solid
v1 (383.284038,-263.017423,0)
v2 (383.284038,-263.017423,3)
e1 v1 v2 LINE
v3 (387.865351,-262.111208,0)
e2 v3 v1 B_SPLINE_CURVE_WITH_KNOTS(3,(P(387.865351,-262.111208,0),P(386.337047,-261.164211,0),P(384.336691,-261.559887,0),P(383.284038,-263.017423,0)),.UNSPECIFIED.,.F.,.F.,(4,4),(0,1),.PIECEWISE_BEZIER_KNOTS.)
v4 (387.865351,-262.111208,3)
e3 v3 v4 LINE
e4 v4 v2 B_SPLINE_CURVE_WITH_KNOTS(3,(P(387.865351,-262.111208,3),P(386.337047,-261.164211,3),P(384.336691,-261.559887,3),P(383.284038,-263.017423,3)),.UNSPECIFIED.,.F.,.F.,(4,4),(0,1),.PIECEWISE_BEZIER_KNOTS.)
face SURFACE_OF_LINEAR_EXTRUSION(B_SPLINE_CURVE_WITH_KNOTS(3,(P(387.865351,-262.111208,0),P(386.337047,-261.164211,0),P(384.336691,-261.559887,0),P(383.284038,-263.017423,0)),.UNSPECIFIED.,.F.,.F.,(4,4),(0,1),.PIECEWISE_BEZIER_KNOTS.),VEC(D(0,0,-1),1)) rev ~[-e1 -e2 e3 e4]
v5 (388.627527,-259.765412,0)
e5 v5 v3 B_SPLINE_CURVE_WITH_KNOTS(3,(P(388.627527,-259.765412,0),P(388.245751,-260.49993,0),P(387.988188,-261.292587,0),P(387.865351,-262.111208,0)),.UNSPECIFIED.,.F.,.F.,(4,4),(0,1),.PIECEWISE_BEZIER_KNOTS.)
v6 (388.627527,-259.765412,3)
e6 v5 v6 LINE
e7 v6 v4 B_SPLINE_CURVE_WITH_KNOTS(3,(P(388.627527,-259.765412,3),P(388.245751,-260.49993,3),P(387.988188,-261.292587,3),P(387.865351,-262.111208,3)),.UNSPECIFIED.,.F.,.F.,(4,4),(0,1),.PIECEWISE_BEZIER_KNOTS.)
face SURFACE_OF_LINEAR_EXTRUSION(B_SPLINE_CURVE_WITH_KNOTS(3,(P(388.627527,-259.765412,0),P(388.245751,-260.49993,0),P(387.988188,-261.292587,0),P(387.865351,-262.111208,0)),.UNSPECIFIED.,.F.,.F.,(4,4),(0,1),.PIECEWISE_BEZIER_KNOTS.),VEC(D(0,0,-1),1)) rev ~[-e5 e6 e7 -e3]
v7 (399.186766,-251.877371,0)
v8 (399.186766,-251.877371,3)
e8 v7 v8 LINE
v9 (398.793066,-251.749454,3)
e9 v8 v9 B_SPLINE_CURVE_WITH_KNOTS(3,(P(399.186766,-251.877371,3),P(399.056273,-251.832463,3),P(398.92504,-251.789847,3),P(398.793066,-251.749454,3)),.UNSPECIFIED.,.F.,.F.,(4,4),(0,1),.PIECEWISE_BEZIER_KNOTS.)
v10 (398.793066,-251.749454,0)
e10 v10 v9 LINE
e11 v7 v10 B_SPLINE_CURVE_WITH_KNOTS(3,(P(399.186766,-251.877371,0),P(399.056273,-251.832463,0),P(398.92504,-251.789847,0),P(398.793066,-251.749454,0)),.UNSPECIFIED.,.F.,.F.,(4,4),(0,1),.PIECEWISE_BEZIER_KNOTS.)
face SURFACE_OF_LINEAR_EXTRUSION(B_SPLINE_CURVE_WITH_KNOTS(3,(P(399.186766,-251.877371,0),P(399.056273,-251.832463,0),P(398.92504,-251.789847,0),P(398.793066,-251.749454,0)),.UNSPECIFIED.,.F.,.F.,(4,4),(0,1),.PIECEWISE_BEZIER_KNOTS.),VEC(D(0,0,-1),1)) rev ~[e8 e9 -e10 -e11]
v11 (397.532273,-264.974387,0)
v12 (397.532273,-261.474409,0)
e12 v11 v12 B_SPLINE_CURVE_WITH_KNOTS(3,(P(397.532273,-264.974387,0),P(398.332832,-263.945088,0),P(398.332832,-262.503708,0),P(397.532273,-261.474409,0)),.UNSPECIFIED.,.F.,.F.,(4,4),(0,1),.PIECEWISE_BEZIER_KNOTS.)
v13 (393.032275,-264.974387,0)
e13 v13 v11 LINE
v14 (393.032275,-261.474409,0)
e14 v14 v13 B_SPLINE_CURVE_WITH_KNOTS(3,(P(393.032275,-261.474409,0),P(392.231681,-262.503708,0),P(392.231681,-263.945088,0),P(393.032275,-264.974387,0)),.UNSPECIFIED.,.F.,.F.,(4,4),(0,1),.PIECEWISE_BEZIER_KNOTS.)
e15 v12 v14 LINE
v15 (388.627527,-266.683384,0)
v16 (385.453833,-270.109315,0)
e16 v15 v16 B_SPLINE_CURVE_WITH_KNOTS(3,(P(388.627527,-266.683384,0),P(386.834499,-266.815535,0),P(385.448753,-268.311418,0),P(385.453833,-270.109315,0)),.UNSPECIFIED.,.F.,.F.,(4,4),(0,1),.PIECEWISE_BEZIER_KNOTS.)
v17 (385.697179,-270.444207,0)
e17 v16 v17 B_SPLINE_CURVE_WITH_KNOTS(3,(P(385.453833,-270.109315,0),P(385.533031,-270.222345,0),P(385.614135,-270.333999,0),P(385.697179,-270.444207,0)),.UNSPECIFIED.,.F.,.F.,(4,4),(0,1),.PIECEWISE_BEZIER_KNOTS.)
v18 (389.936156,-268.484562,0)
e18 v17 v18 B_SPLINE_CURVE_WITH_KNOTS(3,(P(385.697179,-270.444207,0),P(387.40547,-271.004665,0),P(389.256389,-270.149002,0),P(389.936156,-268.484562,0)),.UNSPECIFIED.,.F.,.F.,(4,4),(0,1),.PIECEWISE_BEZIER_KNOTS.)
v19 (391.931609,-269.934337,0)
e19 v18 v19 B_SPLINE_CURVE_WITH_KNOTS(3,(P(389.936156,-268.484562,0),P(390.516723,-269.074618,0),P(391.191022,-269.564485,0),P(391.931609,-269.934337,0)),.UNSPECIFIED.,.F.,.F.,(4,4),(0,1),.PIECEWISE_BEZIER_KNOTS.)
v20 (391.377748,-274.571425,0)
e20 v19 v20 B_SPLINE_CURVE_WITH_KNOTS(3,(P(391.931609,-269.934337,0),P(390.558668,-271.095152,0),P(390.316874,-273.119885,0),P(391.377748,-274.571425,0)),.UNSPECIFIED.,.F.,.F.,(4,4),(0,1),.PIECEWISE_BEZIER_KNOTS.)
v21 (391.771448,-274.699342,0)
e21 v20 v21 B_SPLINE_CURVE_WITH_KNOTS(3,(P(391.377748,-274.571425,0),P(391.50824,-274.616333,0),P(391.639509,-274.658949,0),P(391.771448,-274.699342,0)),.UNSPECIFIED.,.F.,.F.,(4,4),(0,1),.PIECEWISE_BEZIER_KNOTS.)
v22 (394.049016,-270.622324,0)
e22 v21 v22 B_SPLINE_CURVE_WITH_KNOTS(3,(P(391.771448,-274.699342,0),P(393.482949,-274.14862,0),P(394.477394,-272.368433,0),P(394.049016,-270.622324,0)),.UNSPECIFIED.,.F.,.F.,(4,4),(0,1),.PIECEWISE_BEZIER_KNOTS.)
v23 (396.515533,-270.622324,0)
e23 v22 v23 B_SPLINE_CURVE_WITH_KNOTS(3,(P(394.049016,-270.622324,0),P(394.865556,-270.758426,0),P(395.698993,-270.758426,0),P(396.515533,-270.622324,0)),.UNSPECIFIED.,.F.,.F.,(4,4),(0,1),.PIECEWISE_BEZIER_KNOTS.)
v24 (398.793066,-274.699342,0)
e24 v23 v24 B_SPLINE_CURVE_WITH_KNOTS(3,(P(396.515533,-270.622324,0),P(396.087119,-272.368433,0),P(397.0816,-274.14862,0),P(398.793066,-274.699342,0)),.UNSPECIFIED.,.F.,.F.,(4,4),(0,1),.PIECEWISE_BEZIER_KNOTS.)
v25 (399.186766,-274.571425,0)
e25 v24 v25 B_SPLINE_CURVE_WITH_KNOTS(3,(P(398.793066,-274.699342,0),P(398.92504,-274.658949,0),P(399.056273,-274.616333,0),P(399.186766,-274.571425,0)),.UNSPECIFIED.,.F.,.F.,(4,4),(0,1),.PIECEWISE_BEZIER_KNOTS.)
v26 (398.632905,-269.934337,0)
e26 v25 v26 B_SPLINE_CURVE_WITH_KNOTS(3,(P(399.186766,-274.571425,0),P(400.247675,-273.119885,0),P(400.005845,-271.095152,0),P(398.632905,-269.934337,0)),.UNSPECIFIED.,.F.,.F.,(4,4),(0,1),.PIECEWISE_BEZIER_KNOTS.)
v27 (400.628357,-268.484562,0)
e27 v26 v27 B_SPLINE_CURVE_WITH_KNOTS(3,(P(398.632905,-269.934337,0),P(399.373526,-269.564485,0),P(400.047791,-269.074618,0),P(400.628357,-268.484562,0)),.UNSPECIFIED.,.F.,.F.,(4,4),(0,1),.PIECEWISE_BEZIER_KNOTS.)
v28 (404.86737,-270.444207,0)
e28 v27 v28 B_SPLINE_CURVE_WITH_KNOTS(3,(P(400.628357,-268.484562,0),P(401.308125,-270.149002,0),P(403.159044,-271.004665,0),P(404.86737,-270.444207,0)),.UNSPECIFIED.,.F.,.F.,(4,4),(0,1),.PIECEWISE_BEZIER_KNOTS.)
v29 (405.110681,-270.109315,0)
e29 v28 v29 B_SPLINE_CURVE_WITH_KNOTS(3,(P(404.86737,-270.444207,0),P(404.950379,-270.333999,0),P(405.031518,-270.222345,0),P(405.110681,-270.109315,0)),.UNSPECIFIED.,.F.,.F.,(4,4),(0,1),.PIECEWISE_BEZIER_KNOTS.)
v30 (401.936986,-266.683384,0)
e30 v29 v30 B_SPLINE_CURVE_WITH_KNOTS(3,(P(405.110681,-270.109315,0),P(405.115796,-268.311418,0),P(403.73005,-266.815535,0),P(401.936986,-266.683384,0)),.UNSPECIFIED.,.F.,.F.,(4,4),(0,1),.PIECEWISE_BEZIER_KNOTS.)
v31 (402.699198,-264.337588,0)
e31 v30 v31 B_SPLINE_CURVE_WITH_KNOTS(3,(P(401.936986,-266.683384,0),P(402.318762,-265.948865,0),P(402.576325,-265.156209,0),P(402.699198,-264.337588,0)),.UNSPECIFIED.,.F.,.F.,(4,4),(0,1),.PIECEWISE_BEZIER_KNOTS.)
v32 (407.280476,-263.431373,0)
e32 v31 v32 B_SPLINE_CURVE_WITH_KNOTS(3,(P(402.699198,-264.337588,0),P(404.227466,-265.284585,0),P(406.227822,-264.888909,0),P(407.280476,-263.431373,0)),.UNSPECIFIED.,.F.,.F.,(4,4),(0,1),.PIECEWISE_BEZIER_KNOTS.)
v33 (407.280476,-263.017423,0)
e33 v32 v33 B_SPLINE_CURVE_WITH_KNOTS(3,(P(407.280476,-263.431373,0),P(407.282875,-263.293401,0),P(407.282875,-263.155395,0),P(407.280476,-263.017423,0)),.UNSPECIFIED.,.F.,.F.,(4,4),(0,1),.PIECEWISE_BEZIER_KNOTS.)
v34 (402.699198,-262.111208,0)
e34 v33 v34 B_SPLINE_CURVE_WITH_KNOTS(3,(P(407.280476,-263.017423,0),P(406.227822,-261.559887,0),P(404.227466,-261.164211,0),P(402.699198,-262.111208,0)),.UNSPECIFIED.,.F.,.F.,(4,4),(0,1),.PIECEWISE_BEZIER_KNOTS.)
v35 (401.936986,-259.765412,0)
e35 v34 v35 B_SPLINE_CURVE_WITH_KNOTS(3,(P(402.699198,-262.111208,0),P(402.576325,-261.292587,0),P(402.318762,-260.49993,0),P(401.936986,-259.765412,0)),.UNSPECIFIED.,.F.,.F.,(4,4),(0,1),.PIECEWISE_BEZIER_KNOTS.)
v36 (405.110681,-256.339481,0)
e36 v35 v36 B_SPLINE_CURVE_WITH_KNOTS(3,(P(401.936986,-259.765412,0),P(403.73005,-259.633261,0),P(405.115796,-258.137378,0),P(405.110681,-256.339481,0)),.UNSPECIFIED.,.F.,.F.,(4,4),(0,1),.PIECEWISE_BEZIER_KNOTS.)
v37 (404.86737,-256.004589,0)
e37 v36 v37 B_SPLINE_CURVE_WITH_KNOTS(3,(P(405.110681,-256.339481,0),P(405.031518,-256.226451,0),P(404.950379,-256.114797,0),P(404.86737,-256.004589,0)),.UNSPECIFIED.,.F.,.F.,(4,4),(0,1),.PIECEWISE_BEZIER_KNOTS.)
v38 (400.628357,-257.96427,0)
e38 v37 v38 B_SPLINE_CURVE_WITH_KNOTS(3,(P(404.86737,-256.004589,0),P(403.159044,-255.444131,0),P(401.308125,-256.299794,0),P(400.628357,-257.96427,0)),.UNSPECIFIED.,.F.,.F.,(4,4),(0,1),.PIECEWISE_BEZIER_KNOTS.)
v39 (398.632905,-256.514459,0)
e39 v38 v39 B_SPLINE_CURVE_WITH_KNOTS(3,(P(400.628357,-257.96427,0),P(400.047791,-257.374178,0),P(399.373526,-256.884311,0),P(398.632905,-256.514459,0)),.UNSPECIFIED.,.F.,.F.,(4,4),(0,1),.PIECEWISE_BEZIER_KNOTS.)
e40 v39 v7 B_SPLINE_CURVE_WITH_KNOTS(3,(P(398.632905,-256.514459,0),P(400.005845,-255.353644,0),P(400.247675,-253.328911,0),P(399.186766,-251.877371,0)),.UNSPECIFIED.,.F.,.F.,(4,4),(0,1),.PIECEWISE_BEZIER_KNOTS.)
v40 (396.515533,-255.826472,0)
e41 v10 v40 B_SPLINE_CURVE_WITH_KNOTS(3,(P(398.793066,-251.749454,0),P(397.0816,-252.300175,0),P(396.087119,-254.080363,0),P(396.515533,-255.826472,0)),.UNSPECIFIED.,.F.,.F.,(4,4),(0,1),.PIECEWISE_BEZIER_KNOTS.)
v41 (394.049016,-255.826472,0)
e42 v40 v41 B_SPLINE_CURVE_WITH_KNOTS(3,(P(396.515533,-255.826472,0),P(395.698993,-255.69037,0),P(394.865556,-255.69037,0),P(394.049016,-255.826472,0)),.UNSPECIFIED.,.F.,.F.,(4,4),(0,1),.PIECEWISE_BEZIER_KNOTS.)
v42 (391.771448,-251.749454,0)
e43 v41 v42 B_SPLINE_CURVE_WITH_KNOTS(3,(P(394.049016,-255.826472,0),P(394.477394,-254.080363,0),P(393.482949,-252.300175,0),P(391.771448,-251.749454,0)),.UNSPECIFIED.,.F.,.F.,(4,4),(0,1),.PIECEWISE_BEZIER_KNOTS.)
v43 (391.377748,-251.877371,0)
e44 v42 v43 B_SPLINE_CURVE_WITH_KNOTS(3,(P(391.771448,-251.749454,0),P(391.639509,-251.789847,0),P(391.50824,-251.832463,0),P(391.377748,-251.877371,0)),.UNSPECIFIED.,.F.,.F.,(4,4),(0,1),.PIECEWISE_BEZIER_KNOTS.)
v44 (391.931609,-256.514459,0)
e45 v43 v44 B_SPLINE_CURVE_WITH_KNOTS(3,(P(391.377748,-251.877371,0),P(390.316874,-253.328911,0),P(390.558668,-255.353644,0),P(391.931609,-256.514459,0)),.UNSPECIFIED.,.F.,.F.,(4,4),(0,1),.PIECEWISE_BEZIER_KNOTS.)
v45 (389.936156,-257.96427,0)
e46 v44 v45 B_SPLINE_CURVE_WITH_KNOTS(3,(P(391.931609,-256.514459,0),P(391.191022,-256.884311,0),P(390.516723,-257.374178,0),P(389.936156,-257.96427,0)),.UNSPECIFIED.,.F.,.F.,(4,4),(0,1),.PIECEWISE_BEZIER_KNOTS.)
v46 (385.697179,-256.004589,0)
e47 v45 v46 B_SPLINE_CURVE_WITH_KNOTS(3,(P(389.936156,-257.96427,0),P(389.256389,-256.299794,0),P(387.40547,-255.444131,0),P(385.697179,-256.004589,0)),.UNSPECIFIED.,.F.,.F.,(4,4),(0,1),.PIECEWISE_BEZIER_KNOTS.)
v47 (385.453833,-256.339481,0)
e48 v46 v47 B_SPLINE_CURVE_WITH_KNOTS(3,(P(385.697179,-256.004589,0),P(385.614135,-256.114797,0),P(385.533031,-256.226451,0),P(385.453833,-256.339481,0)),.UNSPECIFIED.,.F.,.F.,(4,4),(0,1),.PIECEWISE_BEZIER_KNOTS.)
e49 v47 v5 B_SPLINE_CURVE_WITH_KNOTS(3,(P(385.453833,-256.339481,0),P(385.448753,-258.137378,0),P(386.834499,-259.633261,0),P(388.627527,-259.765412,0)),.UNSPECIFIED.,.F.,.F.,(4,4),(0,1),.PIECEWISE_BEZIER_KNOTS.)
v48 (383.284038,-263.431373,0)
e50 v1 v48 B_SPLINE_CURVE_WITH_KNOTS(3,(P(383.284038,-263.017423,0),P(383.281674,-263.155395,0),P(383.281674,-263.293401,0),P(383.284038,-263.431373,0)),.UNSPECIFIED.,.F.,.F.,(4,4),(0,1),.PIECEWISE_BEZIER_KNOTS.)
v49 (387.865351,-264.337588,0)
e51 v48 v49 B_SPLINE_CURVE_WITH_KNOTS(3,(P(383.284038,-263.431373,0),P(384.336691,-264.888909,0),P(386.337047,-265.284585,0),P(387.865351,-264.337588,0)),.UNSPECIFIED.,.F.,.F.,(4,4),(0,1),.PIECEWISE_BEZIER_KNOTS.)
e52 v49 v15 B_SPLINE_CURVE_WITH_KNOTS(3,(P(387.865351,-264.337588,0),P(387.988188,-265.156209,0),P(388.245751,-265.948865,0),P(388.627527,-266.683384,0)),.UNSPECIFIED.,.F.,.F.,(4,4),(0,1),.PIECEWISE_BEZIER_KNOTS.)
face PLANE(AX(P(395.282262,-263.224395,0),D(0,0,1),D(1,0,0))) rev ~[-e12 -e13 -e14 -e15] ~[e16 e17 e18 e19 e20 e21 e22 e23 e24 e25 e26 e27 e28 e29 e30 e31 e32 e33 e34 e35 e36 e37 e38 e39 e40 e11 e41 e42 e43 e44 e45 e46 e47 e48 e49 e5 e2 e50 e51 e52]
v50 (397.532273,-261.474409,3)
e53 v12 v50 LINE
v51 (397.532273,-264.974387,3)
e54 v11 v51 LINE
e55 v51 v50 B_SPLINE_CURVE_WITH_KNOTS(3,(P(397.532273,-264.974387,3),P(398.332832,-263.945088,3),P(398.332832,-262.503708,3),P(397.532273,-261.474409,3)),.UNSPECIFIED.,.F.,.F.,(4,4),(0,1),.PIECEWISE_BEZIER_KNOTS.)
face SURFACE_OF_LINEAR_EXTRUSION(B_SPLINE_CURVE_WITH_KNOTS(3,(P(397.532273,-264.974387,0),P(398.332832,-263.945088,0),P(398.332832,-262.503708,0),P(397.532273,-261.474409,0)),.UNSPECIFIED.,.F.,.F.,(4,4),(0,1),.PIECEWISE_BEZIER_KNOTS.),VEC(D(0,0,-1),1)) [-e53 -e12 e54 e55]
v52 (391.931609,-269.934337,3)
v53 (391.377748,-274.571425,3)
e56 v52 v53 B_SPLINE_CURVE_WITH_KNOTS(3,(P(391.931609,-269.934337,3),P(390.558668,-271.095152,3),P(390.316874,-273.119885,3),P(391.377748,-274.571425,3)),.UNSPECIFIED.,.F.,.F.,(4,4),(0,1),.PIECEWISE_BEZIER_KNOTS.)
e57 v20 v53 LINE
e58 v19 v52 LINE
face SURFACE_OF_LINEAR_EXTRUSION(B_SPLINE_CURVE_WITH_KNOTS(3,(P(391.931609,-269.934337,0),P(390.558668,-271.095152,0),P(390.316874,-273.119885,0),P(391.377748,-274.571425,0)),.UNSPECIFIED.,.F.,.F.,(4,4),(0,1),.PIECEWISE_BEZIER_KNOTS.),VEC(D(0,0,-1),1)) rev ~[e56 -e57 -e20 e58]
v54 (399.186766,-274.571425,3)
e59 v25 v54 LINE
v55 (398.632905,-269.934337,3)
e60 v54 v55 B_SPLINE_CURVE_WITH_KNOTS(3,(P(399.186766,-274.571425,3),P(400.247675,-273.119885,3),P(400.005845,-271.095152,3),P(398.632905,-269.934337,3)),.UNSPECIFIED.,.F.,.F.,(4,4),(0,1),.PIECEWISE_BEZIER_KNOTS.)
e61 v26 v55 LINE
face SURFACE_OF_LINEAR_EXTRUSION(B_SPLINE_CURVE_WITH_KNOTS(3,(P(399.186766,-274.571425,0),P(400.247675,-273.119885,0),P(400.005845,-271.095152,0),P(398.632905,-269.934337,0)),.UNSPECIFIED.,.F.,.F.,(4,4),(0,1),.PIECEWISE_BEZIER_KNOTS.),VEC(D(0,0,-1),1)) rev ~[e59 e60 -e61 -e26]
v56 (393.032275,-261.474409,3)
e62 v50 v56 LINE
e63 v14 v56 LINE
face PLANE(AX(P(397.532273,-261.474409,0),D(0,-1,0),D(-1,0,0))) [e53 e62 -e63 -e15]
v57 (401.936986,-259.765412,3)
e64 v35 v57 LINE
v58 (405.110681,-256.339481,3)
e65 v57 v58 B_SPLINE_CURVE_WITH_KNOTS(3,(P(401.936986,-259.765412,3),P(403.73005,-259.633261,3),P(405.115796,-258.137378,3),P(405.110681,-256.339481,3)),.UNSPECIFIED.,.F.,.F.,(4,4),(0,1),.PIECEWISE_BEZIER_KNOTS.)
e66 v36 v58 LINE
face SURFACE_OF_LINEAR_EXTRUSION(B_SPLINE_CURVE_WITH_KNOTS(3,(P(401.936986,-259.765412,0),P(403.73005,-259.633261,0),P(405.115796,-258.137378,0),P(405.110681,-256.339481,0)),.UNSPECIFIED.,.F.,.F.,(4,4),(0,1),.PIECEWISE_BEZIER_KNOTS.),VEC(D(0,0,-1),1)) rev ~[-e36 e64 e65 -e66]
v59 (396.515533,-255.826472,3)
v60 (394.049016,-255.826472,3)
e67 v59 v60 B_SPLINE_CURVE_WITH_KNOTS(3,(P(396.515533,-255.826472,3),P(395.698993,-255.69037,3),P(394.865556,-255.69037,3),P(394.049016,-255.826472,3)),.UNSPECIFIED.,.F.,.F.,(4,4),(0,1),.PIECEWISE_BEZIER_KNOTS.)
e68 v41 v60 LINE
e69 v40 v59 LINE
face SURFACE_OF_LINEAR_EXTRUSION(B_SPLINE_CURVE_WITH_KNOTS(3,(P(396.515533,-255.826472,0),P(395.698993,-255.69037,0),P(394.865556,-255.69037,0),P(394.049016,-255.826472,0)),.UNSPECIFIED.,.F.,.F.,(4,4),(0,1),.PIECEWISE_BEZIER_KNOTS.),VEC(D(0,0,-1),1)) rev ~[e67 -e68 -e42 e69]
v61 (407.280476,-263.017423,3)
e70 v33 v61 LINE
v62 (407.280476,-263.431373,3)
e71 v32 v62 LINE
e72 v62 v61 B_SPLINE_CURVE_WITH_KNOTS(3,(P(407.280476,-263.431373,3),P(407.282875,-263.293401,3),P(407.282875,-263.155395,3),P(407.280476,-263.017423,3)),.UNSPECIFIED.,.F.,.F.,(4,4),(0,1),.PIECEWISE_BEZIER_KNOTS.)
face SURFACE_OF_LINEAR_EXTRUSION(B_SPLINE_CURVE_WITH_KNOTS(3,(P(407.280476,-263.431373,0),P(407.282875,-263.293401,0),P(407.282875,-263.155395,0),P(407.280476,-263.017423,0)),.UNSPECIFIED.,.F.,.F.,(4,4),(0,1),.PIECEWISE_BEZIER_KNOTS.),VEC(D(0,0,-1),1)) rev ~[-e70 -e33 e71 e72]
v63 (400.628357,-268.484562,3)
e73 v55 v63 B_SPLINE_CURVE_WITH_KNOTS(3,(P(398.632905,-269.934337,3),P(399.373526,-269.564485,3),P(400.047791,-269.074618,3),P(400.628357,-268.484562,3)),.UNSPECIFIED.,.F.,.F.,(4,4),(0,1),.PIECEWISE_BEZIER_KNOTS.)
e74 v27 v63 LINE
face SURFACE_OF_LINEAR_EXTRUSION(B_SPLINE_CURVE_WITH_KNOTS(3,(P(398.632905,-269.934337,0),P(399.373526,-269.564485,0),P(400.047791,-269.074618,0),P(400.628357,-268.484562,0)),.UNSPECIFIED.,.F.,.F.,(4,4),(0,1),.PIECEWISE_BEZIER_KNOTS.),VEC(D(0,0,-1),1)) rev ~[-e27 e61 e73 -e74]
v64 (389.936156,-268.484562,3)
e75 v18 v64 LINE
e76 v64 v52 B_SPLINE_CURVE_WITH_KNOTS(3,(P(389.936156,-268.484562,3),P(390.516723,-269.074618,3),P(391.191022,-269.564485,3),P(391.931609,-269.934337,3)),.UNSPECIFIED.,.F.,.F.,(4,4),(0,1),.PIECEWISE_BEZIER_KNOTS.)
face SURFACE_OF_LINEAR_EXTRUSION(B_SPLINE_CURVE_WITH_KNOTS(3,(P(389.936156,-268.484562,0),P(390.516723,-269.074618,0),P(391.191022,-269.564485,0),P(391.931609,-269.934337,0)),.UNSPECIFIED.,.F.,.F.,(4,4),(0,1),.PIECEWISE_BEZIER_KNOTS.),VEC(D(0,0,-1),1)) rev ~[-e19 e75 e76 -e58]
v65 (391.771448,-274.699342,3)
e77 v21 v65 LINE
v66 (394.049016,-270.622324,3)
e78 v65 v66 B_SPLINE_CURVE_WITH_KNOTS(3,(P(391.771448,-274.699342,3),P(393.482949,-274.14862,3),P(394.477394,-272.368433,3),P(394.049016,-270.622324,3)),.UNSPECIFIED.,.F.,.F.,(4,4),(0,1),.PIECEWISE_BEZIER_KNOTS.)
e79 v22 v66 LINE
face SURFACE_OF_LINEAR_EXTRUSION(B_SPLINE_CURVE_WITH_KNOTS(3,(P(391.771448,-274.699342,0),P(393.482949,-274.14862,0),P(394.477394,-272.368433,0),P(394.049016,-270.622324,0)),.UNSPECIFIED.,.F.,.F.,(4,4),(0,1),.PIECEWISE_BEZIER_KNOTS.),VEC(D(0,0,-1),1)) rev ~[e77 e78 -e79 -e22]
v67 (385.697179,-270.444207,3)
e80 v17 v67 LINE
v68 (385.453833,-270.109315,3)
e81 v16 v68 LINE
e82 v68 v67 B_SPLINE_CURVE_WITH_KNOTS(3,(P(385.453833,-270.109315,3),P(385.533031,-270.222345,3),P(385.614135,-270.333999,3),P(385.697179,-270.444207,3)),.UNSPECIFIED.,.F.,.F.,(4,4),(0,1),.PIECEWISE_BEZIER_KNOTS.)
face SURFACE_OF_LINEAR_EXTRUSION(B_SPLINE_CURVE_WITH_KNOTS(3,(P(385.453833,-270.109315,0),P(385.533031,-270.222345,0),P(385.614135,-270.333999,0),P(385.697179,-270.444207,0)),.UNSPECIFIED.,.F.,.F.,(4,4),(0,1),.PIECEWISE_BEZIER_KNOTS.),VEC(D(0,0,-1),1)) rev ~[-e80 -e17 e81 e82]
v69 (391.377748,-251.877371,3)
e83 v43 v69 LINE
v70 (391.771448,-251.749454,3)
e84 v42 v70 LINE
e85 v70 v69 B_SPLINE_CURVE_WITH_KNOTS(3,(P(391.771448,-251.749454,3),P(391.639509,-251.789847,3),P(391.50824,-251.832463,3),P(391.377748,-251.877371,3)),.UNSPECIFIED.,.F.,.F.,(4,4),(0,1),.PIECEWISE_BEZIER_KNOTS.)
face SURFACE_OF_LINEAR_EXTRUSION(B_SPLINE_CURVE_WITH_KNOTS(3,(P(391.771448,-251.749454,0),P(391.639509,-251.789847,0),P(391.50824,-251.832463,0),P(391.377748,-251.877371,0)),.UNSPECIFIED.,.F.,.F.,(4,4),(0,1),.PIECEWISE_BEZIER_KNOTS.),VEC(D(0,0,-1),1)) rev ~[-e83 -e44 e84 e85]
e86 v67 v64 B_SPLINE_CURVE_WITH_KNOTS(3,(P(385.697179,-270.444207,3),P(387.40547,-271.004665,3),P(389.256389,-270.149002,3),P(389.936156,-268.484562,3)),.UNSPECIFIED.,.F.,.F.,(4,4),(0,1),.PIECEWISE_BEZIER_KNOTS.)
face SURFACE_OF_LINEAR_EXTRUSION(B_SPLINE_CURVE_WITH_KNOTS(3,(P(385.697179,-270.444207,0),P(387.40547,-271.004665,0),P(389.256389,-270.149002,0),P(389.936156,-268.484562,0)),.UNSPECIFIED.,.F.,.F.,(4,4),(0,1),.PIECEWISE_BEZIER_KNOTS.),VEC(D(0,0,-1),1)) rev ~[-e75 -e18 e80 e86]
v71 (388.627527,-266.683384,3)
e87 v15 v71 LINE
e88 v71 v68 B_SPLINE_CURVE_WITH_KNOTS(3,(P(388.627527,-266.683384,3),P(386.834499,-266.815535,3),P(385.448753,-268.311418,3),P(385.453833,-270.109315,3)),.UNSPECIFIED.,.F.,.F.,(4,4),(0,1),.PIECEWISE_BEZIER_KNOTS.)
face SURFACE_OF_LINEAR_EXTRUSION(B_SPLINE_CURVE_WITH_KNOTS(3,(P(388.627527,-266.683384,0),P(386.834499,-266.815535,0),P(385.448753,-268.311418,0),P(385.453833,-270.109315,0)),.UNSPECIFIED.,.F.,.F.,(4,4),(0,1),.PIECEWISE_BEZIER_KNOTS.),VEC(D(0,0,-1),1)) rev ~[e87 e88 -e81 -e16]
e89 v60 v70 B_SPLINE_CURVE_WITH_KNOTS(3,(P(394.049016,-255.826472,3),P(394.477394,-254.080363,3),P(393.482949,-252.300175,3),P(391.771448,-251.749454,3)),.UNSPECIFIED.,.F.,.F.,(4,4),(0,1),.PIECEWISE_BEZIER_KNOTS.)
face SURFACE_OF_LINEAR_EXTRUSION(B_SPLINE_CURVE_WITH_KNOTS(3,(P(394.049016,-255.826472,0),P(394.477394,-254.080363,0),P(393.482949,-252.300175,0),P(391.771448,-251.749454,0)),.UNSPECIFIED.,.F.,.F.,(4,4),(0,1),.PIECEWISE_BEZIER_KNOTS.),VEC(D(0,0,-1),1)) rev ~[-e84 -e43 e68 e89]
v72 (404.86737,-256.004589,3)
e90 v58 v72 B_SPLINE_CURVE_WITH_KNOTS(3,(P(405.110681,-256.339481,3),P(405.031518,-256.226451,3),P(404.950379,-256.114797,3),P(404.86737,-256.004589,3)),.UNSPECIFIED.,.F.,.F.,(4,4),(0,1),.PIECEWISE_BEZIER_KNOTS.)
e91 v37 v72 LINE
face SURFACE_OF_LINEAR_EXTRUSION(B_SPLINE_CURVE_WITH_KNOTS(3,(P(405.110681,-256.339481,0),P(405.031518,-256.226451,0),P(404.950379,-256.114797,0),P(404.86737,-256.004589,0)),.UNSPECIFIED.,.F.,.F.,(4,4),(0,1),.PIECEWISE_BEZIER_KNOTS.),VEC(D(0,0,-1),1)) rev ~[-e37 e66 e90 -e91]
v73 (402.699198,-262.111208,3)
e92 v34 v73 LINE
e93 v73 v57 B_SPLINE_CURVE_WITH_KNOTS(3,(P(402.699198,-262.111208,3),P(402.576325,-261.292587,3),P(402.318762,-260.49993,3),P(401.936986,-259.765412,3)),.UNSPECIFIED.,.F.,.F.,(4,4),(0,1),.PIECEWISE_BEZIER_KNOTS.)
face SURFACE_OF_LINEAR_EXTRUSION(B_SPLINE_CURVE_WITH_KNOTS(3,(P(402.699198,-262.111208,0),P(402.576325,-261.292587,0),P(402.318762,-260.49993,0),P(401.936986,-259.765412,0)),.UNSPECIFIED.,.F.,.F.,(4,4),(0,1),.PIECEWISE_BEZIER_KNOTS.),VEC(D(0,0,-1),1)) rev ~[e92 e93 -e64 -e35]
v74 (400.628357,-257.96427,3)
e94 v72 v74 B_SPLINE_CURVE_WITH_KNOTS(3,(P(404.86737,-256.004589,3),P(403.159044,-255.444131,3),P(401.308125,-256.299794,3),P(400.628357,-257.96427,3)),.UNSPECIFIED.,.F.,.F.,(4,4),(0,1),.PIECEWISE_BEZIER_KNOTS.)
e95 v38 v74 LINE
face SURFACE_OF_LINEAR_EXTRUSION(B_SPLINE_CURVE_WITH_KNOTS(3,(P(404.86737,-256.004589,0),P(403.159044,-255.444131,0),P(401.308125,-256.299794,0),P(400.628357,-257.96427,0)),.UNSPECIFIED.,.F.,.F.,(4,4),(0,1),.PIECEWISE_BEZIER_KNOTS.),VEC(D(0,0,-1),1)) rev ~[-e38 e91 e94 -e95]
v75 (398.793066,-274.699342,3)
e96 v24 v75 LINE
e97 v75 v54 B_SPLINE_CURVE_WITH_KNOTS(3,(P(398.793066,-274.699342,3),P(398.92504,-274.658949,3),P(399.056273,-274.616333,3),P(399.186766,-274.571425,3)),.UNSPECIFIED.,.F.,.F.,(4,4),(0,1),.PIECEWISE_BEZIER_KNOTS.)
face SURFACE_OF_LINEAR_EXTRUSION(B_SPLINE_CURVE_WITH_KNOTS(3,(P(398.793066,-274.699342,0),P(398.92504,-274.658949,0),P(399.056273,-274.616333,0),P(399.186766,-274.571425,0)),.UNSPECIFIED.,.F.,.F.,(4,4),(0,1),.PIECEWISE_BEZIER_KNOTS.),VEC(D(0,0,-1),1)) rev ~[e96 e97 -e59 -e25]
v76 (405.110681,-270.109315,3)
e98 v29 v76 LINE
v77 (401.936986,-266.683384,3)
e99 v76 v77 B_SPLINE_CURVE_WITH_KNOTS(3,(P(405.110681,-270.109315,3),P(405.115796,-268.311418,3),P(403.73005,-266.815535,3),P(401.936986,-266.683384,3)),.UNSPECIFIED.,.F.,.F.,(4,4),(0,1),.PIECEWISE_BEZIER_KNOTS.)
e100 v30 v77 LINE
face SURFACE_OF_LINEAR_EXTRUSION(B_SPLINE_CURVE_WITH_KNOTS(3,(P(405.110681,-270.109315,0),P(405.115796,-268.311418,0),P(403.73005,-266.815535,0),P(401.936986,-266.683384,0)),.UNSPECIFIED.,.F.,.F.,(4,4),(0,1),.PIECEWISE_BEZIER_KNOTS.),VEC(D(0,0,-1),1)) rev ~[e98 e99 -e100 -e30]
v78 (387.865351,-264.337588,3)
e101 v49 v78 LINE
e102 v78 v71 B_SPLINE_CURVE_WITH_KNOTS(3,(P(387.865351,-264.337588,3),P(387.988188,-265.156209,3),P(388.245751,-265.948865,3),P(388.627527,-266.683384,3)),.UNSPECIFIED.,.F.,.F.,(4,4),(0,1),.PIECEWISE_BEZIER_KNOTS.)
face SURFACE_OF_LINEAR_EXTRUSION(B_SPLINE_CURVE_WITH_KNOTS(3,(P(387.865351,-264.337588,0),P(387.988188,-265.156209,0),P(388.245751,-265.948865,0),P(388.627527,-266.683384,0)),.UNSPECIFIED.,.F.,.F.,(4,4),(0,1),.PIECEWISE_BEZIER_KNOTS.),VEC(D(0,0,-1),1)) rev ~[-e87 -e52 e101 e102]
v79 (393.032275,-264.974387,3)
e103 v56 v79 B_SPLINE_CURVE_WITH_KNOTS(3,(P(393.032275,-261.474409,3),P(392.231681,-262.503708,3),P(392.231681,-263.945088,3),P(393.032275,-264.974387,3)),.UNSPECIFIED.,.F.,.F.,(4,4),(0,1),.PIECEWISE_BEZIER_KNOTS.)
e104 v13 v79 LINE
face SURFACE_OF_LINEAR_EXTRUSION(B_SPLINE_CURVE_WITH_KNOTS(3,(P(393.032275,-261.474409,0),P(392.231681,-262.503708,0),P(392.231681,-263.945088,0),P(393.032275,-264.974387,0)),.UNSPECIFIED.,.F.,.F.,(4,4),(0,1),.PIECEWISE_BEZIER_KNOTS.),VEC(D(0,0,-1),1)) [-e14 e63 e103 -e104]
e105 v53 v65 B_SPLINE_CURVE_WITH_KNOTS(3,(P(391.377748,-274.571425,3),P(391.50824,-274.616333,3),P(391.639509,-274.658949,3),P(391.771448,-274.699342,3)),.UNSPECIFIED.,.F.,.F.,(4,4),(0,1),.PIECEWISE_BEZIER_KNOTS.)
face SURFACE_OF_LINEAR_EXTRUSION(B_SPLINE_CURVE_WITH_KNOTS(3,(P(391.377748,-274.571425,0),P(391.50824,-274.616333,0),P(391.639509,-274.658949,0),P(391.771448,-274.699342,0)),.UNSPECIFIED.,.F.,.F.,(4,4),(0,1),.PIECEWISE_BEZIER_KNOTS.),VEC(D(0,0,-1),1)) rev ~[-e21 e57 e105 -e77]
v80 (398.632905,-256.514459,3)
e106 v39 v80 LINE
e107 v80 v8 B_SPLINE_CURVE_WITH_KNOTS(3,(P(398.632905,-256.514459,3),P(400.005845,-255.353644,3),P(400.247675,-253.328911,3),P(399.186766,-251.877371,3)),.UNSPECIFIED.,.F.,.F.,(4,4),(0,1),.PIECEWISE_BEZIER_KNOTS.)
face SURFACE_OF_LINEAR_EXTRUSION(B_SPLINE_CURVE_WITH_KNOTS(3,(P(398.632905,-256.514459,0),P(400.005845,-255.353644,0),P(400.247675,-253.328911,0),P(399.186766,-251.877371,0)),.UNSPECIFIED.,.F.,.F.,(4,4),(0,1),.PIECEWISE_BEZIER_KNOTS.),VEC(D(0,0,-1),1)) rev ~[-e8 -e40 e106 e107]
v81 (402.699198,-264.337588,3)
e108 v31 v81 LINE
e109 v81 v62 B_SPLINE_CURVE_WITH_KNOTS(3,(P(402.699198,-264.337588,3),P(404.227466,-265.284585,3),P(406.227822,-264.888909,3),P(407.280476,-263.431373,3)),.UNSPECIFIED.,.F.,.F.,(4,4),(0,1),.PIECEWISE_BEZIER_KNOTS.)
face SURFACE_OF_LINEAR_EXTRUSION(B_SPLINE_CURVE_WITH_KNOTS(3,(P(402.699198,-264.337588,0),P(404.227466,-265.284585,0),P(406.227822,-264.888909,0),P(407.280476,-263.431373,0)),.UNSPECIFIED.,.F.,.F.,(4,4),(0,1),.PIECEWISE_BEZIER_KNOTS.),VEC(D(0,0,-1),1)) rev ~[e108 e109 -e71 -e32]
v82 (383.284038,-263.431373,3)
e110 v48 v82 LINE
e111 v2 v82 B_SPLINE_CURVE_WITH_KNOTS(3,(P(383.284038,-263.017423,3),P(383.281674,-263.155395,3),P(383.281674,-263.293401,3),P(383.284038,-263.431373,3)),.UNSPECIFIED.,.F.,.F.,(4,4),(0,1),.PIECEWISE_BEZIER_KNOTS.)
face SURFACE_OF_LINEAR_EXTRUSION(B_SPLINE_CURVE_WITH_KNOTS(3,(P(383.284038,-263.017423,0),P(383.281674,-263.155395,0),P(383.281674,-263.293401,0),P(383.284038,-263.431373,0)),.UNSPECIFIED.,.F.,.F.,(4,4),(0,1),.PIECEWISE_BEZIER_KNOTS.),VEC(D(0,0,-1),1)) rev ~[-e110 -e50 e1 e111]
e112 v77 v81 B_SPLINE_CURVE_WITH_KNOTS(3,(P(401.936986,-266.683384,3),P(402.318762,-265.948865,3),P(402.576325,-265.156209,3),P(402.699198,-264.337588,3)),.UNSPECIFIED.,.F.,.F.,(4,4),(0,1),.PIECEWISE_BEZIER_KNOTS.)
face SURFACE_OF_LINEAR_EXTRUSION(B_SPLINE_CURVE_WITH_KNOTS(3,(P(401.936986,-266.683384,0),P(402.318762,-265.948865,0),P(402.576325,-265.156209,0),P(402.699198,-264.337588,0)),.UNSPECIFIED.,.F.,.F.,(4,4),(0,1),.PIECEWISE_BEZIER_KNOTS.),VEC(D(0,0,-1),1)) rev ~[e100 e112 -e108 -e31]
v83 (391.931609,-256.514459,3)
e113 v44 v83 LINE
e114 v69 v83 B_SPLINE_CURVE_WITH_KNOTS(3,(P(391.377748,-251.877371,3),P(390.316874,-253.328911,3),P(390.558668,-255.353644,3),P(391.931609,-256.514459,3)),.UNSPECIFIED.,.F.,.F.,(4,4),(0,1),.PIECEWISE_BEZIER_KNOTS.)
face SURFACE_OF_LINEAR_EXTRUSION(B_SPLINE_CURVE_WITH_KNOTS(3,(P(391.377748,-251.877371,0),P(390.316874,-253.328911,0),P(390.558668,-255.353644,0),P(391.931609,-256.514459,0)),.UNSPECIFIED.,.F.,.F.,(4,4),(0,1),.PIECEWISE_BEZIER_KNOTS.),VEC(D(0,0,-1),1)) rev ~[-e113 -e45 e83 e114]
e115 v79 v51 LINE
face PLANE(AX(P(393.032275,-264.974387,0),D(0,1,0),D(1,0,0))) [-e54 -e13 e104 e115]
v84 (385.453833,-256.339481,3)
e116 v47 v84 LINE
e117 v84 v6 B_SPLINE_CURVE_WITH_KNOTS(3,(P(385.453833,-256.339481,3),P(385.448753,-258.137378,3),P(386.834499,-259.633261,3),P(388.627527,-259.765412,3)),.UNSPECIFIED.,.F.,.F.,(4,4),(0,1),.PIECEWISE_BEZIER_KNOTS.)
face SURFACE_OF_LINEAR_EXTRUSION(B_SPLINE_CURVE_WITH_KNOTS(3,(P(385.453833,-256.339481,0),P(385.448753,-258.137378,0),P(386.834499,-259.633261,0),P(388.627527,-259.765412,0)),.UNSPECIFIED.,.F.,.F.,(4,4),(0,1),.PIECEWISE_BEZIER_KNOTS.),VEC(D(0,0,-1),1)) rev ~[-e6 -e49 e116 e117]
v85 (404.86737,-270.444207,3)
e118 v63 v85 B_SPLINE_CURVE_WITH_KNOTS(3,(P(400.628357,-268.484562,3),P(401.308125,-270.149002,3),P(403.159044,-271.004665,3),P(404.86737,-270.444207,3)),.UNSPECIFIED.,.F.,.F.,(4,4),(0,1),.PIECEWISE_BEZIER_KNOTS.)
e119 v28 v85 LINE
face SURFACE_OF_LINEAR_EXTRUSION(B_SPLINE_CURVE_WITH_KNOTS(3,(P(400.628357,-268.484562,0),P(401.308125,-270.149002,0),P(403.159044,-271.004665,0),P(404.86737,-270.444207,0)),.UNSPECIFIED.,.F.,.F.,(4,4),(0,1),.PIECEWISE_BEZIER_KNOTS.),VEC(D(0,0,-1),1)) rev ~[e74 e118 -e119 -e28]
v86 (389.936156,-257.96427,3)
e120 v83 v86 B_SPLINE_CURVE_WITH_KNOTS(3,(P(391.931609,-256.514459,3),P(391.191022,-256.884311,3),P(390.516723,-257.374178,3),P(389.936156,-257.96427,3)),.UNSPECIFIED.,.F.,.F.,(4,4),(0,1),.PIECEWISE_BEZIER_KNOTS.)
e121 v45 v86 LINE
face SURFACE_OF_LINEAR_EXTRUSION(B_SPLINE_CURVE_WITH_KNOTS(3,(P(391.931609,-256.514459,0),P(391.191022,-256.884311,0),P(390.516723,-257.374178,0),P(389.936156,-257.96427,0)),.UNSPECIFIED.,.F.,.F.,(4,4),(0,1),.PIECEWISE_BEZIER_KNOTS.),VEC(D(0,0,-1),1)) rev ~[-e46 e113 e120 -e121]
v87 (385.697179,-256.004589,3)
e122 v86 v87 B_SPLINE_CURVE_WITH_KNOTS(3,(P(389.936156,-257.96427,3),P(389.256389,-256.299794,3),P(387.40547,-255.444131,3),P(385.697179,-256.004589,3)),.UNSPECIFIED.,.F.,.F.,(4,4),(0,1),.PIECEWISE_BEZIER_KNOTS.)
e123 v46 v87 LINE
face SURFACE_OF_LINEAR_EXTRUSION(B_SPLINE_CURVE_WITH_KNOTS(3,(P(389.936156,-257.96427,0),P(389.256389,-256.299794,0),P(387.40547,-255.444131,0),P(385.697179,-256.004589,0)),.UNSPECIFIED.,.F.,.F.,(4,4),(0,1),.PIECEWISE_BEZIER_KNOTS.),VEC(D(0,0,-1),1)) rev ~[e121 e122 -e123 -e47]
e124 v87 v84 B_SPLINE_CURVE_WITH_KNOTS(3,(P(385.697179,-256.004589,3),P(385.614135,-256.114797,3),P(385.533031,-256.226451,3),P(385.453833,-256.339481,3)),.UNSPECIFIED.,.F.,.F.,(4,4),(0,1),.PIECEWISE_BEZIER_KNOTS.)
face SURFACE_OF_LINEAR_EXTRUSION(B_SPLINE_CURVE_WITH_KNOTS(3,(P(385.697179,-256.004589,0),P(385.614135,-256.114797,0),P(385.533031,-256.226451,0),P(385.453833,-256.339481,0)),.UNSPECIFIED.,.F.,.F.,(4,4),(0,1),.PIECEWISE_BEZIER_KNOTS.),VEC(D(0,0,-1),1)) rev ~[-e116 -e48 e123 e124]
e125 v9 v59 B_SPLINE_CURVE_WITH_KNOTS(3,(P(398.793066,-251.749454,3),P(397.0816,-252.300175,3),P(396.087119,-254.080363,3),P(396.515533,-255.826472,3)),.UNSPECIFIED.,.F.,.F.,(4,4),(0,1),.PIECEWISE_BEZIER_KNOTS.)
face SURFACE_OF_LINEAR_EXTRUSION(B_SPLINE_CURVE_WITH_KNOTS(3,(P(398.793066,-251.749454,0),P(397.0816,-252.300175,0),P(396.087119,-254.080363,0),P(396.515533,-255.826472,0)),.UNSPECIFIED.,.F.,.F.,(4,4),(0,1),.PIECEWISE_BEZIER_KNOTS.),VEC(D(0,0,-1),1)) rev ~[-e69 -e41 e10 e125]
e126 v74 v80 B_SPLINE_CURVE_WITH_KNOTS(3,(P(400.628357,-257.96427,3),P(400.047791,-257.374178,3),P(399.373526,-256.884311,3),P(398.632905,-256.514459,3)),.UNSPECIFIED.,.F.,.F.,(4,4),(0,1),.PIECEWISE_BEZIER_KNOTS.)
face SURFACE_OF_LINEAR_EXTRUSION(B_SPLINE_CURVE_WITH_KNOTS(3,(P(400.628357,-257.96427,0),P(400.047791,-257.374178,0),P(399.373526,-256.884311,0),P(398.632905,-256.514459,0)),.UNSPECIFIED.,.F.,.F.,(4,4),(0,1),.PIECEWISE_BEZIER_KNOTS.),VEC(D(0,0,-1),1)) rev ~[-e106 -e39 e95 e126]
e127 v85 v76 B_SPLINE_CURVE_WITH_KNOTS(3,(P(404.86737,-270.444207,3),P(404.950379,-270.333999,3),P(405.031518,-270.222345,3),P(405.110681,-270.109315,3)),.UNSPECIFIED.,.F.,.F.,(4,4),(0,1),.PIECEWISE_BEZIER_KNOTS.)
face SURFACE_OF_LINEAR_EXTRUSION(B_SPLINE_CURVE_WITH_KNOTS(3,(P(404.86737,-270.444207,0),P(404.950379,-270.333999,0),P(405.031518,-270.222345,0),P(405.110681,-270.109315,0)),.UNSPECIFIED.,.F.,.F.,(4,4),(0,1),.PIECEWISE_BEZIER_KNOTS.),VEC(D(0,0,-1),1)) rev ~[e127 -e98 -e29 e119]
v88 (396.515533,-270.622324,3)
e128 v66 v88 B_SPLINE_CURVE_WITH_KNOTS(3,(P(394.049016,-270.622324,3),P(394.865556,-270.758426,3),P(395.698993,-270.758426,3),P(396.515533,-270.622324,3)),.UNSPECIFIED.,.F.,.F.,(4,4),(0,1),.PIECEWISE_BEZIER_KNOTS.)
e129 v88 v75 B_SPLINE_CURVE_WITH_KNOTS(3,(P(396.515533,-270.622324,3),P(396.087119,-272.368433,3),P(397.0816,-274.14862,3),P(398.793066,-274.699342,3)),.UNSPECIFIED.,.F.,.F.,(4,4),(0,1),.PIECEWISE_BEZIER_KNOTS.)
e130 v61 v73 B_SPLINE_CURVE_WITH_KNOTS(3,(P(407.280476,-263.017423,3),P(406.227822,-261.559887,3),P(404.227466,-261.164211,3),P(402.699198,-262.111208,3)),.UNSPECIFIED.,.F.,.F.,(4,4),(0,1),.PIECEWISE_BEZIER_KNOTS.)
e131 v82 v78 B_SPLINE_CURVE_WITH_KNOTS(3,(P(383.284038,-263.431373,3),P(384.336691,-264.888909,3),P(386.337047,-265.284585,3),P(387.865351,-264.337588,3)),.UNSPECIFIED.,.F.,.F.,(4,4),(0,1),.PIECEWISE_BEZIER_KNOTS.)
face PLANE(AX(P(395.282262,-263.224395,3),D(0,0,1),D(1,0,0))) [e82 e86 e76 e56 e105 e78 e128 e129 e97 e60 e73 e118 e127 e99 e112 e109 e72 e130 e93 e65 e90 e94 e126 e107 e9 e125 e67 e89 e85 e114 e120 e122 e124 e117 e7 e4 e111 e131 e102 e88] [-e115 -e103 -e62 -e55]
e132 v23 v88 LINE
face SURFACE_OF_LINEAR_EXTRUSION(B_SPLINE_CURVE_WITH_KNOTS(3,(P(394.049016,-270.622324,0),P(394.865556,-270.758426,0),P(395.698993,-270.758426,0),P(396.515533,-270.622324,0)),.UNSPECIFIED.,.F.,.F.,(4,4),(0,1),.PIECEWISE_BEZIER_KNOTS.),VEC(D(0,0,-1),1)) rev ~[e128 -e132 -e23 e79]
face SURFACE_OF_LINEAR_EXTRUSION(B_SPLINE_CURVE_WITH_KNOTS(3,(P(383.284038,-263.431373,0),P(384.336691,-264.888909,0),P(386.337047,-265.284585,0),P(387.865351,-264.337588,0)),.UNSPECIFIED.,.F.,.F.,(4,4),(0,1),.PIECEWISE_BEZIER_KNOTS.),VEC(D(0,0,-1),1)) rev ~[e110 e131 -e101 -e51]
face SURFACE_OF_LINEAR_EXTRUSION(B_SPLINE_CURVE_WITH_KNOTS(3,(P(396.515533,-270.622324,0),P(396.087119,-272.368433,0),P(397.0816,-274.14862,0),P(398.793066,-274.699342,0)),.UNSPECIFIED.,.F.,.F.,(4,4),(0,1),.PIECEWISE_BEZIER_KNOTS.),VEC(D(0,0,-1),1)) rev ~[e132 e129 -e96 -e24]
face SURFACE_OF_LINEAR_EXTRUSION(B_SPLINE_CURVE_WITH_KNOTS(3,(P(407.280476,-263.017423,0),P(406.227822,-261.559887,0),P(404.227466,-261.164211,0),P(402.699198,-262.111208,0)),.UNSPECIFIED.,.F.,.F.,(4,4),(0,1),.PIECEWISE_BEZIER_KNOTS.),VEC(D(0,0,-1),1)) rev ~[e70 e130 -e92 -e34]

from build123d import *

# Parameters (mm, degrees)
SALIENTE_EXTRUIR1_DEPTH = 3


with BuildPart() as part:
    # Croquis1 → Saliente-Extruir1 (new body)
    with BuildSketch(Plane.XY):
        with BuildLine():
            add(Edge.make_bspline(
                [(389.936156465, -257.964269658), (389.256388965, -256.299793547), (387.405469799, -255.444131047), (385.697178688, -256.004589103)],
                knots=[0, 0, 0, 0, 1, 1, 1, 1], degree=3))
            add(Edge.make_bspline(
                [(385.697178688, -256.004589103), (385.614134799, -256.11479688), (385.533031188, -256.226451047), (385.453832577, -256.339481047)],
                knots=[0, 0, 0, 0, 1, 1, 1, 1], degree=3))
            add(Edge.make_bspline(
                [(385.453832577, -256.339481047), (385.448752577, -258.137377713), (386.834498966, -259.633261324), (388.627527299, -259.76541188)],
                knots=[0, 0, 0, 0, 1, 1, 1, 1], degree=3))
            add(Edge.make_bspline(
                [(388.627527299, -259.76541188), (388.245751188, -260.49993049), (387.988188132, -261.292586879), (387.86535091, -262.111207712)],
                knots=[0, 0, 0, 0, 1, 1, 1, 1], degree=3))
            add(Edge.make_bspline(
                [(387.86535091, -262.111207712), (386.337047021, -261.164211046), (384.336691189, -261.559886601), (383.284037578, -263.017423268)],
                knots=[0, 0, 0, 0, 1, 1, 1, 1], degree=3))
            add(Edge.make_bspline(
                [(383.284037578, -263.017423268), (383.281673967, -263.155394656), (383.281673967, -263.293401323), (383.284037578, -263.431372712)],
                knots=[0, 0, 0, 0, 1, 1, 1, 1], degree=3))
            add(Edge.make_bspline(
                [(383.284037578, -263.431372712), (384.336691189, -264.888909378), (386.337047021, -265.284584934), (387.86535091, -264.337588267)],
                knots=[0, 0, 0, 0, 1, 1, 1, 1], degree=3))
            add(Edge.make_bspline(
                [(387.86535091, -264.337588267), (387.988188132, -265.1562091), (388.245751188, -265.948865489), (388.627527299, -266.6833841)],
                knots=[0, 0, 0, 0, 1, 1, 1, 1], degree=3))
            add(Edge.make_bspline(
                [(388.627527299, -266.6833841), (386.834498966, -266.815534656), (385.448752577, -268.311418266), (385.453832577, -270.109314932)],
                knots=[0, 0, 0, 0, 1, 1, 1, 1], degree=3))
            add(Edge.make_bspline(
                [(385.453832577, -270.109314932), (385.533031188, -270.222344932), (385.614134799, -270.333999099), (385.697178688, -270.444206877)],
                knots=[0, 0, 0, 0, 1, 1, 1, 1], degree=3))
            add(Edge.make_bspline(
                [(385.697178688, -270.444206877), (387.405469799, -271.004664932), (389.256388965, -270.149002432), (389.936156465, -268.4845616)],
                knots=[0, 0, 0, 0, 1, 1, 1, 1], degree=3))
            add(Edge.make_bspline(
                [(389.936156465, -268.4845616), (390.516722854, -269.074617711), (391.191022298, -269.564484933), (391.931608687, -269.934337155)],
                knots=[0, 0, 0, 0, 1, 1, 1, 1], degree=3))
            add(Edge.make_bspline(
                [(391.931608687, -269.934337155), (390.558668132, -271.095152432), (390.316874243, -273.119885209), (391.377747576, -274.571424654)],
                knots=[0, 0, 0, 0, 1, 1, 1, 1], degree=3))
            add(Edge.make_bspline(
                [(391.377747576, -274.571424654), (391.508240076, -274.616333265), (391.639508687, -274.65894882), (391.771447576, -274.699341876)],
                knots=[0, 0, 0, 0, 1, 1, 1, 1], degree=3))
            add(Edge.make_bspline(
                [(391.771447576, -274.699341876), (393.482948964, -274.148620487), (394.477394242, -272.368433265), (394.049016186, -270.622324377)],
                knots=[0, 0, 0, 0, 1, 1, 1, 1], degree=3))
            add(Edge.make_bspline(
                [(394.049016186, -270.622324377), (394.86555563, -270.758426043), (395.69899313, -270.758426043), (396.515532574, -270.622324377)],
                knots=[0, 0, 0, 0, 1, 1, 1, 1], degree=3))
            add(Edge.make_bspline(
                [(396.515532574, -270.622324377), (396.087119241, -272.368433265), (397.081599797, -274.148620487), (398.793065907, -274.699341876)],
                knots=[0, 0, 0, 0, 1, 1, 1, 1], degree=3))
            add(Edge.make_bspline(
                [(398.793065907, -274.699341876), (398.925040074, -274.65894882), (399.056273407, -274.616333265), (399.186765907, -274.571424654)],
                knots=[0, 0, 0, 0, 1, 1, 1, 1], degree=3))
            add(Edge.make_bspline(
                [(399.186765907, -274.571424654), (400.247674518, -273.119885209), (400.005845351, -271.095152432), (398.632904796, -269.934337155)],
                knots=[0, 0, 0, 0, 1, 1, 1, 1], degree=3))
            add(Edge.make_bspline(
                [(398.632904796, -269.934337155), (399.373526463, -269.564484933), (400.047790629, -269.074617711), (400.628357018, -268.4845616)],
                knots=[0, 0, 0, 0, 1, 1, 1, 1], degree=3))
            add(Edge.make_bspline(
                [(400.628357018, -268.4845616), (401.308124518, -270.149002432), (403.159043684, -271.004664932), (404.867370072, -270.444206877)],
                knots=[0, 0, 0, 0, 1, 1, 1, 1], degree=3))
            add(Edge.make_bspline(
                [(404.867370072, -270.444206877), (404.950378683, -270.333999099), (405.031517572, -270.222344932), (405.110680906, -270.109314932)],
                knots=[0, 0, 0, 0, 1, 1, 1, 1], degree=3))
            add(Edge.make_bspline(
                [(405.110680906, -270.109314932), (405.115796183, -268.311418266), (403.730049795, -266.815534656), (401.936986184, -266.6833841)],
                knots=[0, 0, 0, 0, 1, 1, 1, 1], degree=3))
            add(Edge.make_bspline(
                [(401.936986184, -266.6833841), (402.318762295, -265.948865489), (402.576325351, -265.1562091), (402.699197851, -264.337588267)],
                knots=[0, 0, 0, 0, 1, 1, 1, 1], degree=3))
            add(Edge.make_bspline(
                [(402.699197851, -264.337588267), (404.227466461, -265.284584934), (406.227822294, -264.888909378), (407.280475905, -263.431372712)],
                knots=[0, 0, 0, 0, 1, 1, 1, 1], degree=3))
            add(Edge.make_bspline(
                [(407.280475905, -263.431372712), (407.282874794, -263.293401323), (407.282874794, -263.155394656), (407.280475905, -263.017423268)],
                knots=[0, 0, 0, 0, 1, 1, 1, 1], degree=3))
            add(Edge.make_bspline(
                [(407.280475905, -263.017423268), (406.227822294, -261.559886601), (404.227466461, -261.164211046), (402.699197851, -262.111207712)],
                knots=[0, 0, 0, 0, 1, 1, 1, 1], degree=3))
            add(Edge.make_bspline(
                [(402.699197851, -262.111207712), (402.576325351, -261.292586879), (402.318762295, -260.49993049), (401.936986184, -259.76541188)],
                knots=[0, 0, 0, 0, 1, 1, 1, 1], degree=3))
            add(Edge.make_bspline(
                [(401.936986184, -259.76541188), (403.730049795, -259.633261324), (405.115796183, -258.137377713), (405.110680906, -256.339481047)],
                knots=[0, 0, 0, 0, 1, 1, 1, 1], degree=3))
            add(Edge.make_bspline(
                [(405.110680906, -256.339481047), (405.031517572, -256.226451047), (404.950378683, -256.11479688), (404.867370072, -256.004589103)],
                knots=[0, 0, 0, 0, 1, 1, 1, 1], degree=3))
            add(Edge.make_bspline(
                [(404.867370072, -256.004589103), (403.159043684, -255.444131047), (401.308124518, -256.299793547), (400.628357018, -257.964269658)],
                knots=[0, 0, 0, 0, 1, 1, 1, 1], degree=3))
            add(Edge.make_bspline(
                [(400.628357018, -257.964269658), (400.047790629, -257.374178269), (399.373526463, -256.884311047), (398.632904796, -256.514458825)],
                knots=[0, 0, 0, 0, 1, 1, 1, 1], degree=3))
            add(Edge.make_bspline(
                [(398.632904796, -256.514458825), (400.005845351, -255.353643547), (400.247674518, -253.32891077), (399.186765907, -251.877371326)],
                knots=[0, 0, 0, 0, 1, 1, 1, 1], degree=3))
            add(Edge.make_bspline(
                [(399.186765907, -251.877371326), (399.056273407, -251.832462715), (398.925040074, -251.789847159), (398.793065907, -251.749454104)],
                knots=[0, 0, 0, 0, 1, 1, 1, 1], degree=3))
            add(Edge.make_bspline(
                [(398.793065907, -251.749454104), (397.081599797, -252.300175492), (396.087119241, -254.080362714), (396.515532574, -255.826471603)],
                knots=[0, 0, 0, 0, 1, 1, 1, 1], degree=3))
            add(Edge.make_bspline(
                [(396.515532574, -255.826471603), (395.69899313, -255.690369936), (394.86555563, -255.690369936), (394.049016186, -255.826471603)],
                knots=[0, 0, 0, 0, 1, 1, 1, 1], degree=3))
            add(Edge.make_bspline(
                [(394.049016186, -255.826471603), (394.477394242, -254.080362714), (393.482948964, -252.300175492), (391.771447576, -251.749454104)],
                knots=[0, 0, 0, 0, 1, 1, 1, 1], degree=3))
            add(Edge.make_bspline(
                [(391.771447576, -251.749454104), (391.639508687, -251.789847159), (391.508240076, -251.832462715), (391.377747576, -251.877371326)],
                knots=[0, 0, 0, 0, 1, 1, 1, 1], degree=3))
            add(Edge.make_bspline(
                [(391.377747576, -251.877371326), (390.316874243, -253.32891077), (390.558668132, -255.353643547), (391.931608687, -256.514458825)],
                knots=[0, 0, 0, 0, 1, 1, 1, 1], degree=3))
            add(Edge.make_bspline(
                [(391.931608687, -256.514458825), (391.191022298, -256.884311047), (390.516722854, -257.374178269), (389.936156465, -257.964269658)],
                knots=[0, 0, 0, 0, 1, 1, 1, 1], degree=3))
        make_face()
        with BuildLine():
            Line((393.032275353, -264.974387434), (397.532273408, -264.974387434))
            add(Edge.make_bspline(
                [(397.532273408, -264.974387434), (398.332832018, -263.945087712), (398.332832018, -262.503708268), (397.532273408, -261.474408546)],
                knots=[0, 0, 0, 0, 1, 1, 1, 1], degree=3))
            Line((397.532273408, -261.474408546), (393.032275353, -261.474408546))
            add(Edge.make_bspline(
                [(393.032275353, -261.474408546), (392.231681464, -262.503708268), (392.231681464, -263.945087712), (393.032275353, -264.974387434)],
                knots=[0, 0, 0, 0, 1, 1, 1, 1], degree=3))
        make_face(mode=Mode.SUBTRACT)
    extrude(amount=SALIENTE_EXTRUIR1_DEPTH)


solid = part.part
